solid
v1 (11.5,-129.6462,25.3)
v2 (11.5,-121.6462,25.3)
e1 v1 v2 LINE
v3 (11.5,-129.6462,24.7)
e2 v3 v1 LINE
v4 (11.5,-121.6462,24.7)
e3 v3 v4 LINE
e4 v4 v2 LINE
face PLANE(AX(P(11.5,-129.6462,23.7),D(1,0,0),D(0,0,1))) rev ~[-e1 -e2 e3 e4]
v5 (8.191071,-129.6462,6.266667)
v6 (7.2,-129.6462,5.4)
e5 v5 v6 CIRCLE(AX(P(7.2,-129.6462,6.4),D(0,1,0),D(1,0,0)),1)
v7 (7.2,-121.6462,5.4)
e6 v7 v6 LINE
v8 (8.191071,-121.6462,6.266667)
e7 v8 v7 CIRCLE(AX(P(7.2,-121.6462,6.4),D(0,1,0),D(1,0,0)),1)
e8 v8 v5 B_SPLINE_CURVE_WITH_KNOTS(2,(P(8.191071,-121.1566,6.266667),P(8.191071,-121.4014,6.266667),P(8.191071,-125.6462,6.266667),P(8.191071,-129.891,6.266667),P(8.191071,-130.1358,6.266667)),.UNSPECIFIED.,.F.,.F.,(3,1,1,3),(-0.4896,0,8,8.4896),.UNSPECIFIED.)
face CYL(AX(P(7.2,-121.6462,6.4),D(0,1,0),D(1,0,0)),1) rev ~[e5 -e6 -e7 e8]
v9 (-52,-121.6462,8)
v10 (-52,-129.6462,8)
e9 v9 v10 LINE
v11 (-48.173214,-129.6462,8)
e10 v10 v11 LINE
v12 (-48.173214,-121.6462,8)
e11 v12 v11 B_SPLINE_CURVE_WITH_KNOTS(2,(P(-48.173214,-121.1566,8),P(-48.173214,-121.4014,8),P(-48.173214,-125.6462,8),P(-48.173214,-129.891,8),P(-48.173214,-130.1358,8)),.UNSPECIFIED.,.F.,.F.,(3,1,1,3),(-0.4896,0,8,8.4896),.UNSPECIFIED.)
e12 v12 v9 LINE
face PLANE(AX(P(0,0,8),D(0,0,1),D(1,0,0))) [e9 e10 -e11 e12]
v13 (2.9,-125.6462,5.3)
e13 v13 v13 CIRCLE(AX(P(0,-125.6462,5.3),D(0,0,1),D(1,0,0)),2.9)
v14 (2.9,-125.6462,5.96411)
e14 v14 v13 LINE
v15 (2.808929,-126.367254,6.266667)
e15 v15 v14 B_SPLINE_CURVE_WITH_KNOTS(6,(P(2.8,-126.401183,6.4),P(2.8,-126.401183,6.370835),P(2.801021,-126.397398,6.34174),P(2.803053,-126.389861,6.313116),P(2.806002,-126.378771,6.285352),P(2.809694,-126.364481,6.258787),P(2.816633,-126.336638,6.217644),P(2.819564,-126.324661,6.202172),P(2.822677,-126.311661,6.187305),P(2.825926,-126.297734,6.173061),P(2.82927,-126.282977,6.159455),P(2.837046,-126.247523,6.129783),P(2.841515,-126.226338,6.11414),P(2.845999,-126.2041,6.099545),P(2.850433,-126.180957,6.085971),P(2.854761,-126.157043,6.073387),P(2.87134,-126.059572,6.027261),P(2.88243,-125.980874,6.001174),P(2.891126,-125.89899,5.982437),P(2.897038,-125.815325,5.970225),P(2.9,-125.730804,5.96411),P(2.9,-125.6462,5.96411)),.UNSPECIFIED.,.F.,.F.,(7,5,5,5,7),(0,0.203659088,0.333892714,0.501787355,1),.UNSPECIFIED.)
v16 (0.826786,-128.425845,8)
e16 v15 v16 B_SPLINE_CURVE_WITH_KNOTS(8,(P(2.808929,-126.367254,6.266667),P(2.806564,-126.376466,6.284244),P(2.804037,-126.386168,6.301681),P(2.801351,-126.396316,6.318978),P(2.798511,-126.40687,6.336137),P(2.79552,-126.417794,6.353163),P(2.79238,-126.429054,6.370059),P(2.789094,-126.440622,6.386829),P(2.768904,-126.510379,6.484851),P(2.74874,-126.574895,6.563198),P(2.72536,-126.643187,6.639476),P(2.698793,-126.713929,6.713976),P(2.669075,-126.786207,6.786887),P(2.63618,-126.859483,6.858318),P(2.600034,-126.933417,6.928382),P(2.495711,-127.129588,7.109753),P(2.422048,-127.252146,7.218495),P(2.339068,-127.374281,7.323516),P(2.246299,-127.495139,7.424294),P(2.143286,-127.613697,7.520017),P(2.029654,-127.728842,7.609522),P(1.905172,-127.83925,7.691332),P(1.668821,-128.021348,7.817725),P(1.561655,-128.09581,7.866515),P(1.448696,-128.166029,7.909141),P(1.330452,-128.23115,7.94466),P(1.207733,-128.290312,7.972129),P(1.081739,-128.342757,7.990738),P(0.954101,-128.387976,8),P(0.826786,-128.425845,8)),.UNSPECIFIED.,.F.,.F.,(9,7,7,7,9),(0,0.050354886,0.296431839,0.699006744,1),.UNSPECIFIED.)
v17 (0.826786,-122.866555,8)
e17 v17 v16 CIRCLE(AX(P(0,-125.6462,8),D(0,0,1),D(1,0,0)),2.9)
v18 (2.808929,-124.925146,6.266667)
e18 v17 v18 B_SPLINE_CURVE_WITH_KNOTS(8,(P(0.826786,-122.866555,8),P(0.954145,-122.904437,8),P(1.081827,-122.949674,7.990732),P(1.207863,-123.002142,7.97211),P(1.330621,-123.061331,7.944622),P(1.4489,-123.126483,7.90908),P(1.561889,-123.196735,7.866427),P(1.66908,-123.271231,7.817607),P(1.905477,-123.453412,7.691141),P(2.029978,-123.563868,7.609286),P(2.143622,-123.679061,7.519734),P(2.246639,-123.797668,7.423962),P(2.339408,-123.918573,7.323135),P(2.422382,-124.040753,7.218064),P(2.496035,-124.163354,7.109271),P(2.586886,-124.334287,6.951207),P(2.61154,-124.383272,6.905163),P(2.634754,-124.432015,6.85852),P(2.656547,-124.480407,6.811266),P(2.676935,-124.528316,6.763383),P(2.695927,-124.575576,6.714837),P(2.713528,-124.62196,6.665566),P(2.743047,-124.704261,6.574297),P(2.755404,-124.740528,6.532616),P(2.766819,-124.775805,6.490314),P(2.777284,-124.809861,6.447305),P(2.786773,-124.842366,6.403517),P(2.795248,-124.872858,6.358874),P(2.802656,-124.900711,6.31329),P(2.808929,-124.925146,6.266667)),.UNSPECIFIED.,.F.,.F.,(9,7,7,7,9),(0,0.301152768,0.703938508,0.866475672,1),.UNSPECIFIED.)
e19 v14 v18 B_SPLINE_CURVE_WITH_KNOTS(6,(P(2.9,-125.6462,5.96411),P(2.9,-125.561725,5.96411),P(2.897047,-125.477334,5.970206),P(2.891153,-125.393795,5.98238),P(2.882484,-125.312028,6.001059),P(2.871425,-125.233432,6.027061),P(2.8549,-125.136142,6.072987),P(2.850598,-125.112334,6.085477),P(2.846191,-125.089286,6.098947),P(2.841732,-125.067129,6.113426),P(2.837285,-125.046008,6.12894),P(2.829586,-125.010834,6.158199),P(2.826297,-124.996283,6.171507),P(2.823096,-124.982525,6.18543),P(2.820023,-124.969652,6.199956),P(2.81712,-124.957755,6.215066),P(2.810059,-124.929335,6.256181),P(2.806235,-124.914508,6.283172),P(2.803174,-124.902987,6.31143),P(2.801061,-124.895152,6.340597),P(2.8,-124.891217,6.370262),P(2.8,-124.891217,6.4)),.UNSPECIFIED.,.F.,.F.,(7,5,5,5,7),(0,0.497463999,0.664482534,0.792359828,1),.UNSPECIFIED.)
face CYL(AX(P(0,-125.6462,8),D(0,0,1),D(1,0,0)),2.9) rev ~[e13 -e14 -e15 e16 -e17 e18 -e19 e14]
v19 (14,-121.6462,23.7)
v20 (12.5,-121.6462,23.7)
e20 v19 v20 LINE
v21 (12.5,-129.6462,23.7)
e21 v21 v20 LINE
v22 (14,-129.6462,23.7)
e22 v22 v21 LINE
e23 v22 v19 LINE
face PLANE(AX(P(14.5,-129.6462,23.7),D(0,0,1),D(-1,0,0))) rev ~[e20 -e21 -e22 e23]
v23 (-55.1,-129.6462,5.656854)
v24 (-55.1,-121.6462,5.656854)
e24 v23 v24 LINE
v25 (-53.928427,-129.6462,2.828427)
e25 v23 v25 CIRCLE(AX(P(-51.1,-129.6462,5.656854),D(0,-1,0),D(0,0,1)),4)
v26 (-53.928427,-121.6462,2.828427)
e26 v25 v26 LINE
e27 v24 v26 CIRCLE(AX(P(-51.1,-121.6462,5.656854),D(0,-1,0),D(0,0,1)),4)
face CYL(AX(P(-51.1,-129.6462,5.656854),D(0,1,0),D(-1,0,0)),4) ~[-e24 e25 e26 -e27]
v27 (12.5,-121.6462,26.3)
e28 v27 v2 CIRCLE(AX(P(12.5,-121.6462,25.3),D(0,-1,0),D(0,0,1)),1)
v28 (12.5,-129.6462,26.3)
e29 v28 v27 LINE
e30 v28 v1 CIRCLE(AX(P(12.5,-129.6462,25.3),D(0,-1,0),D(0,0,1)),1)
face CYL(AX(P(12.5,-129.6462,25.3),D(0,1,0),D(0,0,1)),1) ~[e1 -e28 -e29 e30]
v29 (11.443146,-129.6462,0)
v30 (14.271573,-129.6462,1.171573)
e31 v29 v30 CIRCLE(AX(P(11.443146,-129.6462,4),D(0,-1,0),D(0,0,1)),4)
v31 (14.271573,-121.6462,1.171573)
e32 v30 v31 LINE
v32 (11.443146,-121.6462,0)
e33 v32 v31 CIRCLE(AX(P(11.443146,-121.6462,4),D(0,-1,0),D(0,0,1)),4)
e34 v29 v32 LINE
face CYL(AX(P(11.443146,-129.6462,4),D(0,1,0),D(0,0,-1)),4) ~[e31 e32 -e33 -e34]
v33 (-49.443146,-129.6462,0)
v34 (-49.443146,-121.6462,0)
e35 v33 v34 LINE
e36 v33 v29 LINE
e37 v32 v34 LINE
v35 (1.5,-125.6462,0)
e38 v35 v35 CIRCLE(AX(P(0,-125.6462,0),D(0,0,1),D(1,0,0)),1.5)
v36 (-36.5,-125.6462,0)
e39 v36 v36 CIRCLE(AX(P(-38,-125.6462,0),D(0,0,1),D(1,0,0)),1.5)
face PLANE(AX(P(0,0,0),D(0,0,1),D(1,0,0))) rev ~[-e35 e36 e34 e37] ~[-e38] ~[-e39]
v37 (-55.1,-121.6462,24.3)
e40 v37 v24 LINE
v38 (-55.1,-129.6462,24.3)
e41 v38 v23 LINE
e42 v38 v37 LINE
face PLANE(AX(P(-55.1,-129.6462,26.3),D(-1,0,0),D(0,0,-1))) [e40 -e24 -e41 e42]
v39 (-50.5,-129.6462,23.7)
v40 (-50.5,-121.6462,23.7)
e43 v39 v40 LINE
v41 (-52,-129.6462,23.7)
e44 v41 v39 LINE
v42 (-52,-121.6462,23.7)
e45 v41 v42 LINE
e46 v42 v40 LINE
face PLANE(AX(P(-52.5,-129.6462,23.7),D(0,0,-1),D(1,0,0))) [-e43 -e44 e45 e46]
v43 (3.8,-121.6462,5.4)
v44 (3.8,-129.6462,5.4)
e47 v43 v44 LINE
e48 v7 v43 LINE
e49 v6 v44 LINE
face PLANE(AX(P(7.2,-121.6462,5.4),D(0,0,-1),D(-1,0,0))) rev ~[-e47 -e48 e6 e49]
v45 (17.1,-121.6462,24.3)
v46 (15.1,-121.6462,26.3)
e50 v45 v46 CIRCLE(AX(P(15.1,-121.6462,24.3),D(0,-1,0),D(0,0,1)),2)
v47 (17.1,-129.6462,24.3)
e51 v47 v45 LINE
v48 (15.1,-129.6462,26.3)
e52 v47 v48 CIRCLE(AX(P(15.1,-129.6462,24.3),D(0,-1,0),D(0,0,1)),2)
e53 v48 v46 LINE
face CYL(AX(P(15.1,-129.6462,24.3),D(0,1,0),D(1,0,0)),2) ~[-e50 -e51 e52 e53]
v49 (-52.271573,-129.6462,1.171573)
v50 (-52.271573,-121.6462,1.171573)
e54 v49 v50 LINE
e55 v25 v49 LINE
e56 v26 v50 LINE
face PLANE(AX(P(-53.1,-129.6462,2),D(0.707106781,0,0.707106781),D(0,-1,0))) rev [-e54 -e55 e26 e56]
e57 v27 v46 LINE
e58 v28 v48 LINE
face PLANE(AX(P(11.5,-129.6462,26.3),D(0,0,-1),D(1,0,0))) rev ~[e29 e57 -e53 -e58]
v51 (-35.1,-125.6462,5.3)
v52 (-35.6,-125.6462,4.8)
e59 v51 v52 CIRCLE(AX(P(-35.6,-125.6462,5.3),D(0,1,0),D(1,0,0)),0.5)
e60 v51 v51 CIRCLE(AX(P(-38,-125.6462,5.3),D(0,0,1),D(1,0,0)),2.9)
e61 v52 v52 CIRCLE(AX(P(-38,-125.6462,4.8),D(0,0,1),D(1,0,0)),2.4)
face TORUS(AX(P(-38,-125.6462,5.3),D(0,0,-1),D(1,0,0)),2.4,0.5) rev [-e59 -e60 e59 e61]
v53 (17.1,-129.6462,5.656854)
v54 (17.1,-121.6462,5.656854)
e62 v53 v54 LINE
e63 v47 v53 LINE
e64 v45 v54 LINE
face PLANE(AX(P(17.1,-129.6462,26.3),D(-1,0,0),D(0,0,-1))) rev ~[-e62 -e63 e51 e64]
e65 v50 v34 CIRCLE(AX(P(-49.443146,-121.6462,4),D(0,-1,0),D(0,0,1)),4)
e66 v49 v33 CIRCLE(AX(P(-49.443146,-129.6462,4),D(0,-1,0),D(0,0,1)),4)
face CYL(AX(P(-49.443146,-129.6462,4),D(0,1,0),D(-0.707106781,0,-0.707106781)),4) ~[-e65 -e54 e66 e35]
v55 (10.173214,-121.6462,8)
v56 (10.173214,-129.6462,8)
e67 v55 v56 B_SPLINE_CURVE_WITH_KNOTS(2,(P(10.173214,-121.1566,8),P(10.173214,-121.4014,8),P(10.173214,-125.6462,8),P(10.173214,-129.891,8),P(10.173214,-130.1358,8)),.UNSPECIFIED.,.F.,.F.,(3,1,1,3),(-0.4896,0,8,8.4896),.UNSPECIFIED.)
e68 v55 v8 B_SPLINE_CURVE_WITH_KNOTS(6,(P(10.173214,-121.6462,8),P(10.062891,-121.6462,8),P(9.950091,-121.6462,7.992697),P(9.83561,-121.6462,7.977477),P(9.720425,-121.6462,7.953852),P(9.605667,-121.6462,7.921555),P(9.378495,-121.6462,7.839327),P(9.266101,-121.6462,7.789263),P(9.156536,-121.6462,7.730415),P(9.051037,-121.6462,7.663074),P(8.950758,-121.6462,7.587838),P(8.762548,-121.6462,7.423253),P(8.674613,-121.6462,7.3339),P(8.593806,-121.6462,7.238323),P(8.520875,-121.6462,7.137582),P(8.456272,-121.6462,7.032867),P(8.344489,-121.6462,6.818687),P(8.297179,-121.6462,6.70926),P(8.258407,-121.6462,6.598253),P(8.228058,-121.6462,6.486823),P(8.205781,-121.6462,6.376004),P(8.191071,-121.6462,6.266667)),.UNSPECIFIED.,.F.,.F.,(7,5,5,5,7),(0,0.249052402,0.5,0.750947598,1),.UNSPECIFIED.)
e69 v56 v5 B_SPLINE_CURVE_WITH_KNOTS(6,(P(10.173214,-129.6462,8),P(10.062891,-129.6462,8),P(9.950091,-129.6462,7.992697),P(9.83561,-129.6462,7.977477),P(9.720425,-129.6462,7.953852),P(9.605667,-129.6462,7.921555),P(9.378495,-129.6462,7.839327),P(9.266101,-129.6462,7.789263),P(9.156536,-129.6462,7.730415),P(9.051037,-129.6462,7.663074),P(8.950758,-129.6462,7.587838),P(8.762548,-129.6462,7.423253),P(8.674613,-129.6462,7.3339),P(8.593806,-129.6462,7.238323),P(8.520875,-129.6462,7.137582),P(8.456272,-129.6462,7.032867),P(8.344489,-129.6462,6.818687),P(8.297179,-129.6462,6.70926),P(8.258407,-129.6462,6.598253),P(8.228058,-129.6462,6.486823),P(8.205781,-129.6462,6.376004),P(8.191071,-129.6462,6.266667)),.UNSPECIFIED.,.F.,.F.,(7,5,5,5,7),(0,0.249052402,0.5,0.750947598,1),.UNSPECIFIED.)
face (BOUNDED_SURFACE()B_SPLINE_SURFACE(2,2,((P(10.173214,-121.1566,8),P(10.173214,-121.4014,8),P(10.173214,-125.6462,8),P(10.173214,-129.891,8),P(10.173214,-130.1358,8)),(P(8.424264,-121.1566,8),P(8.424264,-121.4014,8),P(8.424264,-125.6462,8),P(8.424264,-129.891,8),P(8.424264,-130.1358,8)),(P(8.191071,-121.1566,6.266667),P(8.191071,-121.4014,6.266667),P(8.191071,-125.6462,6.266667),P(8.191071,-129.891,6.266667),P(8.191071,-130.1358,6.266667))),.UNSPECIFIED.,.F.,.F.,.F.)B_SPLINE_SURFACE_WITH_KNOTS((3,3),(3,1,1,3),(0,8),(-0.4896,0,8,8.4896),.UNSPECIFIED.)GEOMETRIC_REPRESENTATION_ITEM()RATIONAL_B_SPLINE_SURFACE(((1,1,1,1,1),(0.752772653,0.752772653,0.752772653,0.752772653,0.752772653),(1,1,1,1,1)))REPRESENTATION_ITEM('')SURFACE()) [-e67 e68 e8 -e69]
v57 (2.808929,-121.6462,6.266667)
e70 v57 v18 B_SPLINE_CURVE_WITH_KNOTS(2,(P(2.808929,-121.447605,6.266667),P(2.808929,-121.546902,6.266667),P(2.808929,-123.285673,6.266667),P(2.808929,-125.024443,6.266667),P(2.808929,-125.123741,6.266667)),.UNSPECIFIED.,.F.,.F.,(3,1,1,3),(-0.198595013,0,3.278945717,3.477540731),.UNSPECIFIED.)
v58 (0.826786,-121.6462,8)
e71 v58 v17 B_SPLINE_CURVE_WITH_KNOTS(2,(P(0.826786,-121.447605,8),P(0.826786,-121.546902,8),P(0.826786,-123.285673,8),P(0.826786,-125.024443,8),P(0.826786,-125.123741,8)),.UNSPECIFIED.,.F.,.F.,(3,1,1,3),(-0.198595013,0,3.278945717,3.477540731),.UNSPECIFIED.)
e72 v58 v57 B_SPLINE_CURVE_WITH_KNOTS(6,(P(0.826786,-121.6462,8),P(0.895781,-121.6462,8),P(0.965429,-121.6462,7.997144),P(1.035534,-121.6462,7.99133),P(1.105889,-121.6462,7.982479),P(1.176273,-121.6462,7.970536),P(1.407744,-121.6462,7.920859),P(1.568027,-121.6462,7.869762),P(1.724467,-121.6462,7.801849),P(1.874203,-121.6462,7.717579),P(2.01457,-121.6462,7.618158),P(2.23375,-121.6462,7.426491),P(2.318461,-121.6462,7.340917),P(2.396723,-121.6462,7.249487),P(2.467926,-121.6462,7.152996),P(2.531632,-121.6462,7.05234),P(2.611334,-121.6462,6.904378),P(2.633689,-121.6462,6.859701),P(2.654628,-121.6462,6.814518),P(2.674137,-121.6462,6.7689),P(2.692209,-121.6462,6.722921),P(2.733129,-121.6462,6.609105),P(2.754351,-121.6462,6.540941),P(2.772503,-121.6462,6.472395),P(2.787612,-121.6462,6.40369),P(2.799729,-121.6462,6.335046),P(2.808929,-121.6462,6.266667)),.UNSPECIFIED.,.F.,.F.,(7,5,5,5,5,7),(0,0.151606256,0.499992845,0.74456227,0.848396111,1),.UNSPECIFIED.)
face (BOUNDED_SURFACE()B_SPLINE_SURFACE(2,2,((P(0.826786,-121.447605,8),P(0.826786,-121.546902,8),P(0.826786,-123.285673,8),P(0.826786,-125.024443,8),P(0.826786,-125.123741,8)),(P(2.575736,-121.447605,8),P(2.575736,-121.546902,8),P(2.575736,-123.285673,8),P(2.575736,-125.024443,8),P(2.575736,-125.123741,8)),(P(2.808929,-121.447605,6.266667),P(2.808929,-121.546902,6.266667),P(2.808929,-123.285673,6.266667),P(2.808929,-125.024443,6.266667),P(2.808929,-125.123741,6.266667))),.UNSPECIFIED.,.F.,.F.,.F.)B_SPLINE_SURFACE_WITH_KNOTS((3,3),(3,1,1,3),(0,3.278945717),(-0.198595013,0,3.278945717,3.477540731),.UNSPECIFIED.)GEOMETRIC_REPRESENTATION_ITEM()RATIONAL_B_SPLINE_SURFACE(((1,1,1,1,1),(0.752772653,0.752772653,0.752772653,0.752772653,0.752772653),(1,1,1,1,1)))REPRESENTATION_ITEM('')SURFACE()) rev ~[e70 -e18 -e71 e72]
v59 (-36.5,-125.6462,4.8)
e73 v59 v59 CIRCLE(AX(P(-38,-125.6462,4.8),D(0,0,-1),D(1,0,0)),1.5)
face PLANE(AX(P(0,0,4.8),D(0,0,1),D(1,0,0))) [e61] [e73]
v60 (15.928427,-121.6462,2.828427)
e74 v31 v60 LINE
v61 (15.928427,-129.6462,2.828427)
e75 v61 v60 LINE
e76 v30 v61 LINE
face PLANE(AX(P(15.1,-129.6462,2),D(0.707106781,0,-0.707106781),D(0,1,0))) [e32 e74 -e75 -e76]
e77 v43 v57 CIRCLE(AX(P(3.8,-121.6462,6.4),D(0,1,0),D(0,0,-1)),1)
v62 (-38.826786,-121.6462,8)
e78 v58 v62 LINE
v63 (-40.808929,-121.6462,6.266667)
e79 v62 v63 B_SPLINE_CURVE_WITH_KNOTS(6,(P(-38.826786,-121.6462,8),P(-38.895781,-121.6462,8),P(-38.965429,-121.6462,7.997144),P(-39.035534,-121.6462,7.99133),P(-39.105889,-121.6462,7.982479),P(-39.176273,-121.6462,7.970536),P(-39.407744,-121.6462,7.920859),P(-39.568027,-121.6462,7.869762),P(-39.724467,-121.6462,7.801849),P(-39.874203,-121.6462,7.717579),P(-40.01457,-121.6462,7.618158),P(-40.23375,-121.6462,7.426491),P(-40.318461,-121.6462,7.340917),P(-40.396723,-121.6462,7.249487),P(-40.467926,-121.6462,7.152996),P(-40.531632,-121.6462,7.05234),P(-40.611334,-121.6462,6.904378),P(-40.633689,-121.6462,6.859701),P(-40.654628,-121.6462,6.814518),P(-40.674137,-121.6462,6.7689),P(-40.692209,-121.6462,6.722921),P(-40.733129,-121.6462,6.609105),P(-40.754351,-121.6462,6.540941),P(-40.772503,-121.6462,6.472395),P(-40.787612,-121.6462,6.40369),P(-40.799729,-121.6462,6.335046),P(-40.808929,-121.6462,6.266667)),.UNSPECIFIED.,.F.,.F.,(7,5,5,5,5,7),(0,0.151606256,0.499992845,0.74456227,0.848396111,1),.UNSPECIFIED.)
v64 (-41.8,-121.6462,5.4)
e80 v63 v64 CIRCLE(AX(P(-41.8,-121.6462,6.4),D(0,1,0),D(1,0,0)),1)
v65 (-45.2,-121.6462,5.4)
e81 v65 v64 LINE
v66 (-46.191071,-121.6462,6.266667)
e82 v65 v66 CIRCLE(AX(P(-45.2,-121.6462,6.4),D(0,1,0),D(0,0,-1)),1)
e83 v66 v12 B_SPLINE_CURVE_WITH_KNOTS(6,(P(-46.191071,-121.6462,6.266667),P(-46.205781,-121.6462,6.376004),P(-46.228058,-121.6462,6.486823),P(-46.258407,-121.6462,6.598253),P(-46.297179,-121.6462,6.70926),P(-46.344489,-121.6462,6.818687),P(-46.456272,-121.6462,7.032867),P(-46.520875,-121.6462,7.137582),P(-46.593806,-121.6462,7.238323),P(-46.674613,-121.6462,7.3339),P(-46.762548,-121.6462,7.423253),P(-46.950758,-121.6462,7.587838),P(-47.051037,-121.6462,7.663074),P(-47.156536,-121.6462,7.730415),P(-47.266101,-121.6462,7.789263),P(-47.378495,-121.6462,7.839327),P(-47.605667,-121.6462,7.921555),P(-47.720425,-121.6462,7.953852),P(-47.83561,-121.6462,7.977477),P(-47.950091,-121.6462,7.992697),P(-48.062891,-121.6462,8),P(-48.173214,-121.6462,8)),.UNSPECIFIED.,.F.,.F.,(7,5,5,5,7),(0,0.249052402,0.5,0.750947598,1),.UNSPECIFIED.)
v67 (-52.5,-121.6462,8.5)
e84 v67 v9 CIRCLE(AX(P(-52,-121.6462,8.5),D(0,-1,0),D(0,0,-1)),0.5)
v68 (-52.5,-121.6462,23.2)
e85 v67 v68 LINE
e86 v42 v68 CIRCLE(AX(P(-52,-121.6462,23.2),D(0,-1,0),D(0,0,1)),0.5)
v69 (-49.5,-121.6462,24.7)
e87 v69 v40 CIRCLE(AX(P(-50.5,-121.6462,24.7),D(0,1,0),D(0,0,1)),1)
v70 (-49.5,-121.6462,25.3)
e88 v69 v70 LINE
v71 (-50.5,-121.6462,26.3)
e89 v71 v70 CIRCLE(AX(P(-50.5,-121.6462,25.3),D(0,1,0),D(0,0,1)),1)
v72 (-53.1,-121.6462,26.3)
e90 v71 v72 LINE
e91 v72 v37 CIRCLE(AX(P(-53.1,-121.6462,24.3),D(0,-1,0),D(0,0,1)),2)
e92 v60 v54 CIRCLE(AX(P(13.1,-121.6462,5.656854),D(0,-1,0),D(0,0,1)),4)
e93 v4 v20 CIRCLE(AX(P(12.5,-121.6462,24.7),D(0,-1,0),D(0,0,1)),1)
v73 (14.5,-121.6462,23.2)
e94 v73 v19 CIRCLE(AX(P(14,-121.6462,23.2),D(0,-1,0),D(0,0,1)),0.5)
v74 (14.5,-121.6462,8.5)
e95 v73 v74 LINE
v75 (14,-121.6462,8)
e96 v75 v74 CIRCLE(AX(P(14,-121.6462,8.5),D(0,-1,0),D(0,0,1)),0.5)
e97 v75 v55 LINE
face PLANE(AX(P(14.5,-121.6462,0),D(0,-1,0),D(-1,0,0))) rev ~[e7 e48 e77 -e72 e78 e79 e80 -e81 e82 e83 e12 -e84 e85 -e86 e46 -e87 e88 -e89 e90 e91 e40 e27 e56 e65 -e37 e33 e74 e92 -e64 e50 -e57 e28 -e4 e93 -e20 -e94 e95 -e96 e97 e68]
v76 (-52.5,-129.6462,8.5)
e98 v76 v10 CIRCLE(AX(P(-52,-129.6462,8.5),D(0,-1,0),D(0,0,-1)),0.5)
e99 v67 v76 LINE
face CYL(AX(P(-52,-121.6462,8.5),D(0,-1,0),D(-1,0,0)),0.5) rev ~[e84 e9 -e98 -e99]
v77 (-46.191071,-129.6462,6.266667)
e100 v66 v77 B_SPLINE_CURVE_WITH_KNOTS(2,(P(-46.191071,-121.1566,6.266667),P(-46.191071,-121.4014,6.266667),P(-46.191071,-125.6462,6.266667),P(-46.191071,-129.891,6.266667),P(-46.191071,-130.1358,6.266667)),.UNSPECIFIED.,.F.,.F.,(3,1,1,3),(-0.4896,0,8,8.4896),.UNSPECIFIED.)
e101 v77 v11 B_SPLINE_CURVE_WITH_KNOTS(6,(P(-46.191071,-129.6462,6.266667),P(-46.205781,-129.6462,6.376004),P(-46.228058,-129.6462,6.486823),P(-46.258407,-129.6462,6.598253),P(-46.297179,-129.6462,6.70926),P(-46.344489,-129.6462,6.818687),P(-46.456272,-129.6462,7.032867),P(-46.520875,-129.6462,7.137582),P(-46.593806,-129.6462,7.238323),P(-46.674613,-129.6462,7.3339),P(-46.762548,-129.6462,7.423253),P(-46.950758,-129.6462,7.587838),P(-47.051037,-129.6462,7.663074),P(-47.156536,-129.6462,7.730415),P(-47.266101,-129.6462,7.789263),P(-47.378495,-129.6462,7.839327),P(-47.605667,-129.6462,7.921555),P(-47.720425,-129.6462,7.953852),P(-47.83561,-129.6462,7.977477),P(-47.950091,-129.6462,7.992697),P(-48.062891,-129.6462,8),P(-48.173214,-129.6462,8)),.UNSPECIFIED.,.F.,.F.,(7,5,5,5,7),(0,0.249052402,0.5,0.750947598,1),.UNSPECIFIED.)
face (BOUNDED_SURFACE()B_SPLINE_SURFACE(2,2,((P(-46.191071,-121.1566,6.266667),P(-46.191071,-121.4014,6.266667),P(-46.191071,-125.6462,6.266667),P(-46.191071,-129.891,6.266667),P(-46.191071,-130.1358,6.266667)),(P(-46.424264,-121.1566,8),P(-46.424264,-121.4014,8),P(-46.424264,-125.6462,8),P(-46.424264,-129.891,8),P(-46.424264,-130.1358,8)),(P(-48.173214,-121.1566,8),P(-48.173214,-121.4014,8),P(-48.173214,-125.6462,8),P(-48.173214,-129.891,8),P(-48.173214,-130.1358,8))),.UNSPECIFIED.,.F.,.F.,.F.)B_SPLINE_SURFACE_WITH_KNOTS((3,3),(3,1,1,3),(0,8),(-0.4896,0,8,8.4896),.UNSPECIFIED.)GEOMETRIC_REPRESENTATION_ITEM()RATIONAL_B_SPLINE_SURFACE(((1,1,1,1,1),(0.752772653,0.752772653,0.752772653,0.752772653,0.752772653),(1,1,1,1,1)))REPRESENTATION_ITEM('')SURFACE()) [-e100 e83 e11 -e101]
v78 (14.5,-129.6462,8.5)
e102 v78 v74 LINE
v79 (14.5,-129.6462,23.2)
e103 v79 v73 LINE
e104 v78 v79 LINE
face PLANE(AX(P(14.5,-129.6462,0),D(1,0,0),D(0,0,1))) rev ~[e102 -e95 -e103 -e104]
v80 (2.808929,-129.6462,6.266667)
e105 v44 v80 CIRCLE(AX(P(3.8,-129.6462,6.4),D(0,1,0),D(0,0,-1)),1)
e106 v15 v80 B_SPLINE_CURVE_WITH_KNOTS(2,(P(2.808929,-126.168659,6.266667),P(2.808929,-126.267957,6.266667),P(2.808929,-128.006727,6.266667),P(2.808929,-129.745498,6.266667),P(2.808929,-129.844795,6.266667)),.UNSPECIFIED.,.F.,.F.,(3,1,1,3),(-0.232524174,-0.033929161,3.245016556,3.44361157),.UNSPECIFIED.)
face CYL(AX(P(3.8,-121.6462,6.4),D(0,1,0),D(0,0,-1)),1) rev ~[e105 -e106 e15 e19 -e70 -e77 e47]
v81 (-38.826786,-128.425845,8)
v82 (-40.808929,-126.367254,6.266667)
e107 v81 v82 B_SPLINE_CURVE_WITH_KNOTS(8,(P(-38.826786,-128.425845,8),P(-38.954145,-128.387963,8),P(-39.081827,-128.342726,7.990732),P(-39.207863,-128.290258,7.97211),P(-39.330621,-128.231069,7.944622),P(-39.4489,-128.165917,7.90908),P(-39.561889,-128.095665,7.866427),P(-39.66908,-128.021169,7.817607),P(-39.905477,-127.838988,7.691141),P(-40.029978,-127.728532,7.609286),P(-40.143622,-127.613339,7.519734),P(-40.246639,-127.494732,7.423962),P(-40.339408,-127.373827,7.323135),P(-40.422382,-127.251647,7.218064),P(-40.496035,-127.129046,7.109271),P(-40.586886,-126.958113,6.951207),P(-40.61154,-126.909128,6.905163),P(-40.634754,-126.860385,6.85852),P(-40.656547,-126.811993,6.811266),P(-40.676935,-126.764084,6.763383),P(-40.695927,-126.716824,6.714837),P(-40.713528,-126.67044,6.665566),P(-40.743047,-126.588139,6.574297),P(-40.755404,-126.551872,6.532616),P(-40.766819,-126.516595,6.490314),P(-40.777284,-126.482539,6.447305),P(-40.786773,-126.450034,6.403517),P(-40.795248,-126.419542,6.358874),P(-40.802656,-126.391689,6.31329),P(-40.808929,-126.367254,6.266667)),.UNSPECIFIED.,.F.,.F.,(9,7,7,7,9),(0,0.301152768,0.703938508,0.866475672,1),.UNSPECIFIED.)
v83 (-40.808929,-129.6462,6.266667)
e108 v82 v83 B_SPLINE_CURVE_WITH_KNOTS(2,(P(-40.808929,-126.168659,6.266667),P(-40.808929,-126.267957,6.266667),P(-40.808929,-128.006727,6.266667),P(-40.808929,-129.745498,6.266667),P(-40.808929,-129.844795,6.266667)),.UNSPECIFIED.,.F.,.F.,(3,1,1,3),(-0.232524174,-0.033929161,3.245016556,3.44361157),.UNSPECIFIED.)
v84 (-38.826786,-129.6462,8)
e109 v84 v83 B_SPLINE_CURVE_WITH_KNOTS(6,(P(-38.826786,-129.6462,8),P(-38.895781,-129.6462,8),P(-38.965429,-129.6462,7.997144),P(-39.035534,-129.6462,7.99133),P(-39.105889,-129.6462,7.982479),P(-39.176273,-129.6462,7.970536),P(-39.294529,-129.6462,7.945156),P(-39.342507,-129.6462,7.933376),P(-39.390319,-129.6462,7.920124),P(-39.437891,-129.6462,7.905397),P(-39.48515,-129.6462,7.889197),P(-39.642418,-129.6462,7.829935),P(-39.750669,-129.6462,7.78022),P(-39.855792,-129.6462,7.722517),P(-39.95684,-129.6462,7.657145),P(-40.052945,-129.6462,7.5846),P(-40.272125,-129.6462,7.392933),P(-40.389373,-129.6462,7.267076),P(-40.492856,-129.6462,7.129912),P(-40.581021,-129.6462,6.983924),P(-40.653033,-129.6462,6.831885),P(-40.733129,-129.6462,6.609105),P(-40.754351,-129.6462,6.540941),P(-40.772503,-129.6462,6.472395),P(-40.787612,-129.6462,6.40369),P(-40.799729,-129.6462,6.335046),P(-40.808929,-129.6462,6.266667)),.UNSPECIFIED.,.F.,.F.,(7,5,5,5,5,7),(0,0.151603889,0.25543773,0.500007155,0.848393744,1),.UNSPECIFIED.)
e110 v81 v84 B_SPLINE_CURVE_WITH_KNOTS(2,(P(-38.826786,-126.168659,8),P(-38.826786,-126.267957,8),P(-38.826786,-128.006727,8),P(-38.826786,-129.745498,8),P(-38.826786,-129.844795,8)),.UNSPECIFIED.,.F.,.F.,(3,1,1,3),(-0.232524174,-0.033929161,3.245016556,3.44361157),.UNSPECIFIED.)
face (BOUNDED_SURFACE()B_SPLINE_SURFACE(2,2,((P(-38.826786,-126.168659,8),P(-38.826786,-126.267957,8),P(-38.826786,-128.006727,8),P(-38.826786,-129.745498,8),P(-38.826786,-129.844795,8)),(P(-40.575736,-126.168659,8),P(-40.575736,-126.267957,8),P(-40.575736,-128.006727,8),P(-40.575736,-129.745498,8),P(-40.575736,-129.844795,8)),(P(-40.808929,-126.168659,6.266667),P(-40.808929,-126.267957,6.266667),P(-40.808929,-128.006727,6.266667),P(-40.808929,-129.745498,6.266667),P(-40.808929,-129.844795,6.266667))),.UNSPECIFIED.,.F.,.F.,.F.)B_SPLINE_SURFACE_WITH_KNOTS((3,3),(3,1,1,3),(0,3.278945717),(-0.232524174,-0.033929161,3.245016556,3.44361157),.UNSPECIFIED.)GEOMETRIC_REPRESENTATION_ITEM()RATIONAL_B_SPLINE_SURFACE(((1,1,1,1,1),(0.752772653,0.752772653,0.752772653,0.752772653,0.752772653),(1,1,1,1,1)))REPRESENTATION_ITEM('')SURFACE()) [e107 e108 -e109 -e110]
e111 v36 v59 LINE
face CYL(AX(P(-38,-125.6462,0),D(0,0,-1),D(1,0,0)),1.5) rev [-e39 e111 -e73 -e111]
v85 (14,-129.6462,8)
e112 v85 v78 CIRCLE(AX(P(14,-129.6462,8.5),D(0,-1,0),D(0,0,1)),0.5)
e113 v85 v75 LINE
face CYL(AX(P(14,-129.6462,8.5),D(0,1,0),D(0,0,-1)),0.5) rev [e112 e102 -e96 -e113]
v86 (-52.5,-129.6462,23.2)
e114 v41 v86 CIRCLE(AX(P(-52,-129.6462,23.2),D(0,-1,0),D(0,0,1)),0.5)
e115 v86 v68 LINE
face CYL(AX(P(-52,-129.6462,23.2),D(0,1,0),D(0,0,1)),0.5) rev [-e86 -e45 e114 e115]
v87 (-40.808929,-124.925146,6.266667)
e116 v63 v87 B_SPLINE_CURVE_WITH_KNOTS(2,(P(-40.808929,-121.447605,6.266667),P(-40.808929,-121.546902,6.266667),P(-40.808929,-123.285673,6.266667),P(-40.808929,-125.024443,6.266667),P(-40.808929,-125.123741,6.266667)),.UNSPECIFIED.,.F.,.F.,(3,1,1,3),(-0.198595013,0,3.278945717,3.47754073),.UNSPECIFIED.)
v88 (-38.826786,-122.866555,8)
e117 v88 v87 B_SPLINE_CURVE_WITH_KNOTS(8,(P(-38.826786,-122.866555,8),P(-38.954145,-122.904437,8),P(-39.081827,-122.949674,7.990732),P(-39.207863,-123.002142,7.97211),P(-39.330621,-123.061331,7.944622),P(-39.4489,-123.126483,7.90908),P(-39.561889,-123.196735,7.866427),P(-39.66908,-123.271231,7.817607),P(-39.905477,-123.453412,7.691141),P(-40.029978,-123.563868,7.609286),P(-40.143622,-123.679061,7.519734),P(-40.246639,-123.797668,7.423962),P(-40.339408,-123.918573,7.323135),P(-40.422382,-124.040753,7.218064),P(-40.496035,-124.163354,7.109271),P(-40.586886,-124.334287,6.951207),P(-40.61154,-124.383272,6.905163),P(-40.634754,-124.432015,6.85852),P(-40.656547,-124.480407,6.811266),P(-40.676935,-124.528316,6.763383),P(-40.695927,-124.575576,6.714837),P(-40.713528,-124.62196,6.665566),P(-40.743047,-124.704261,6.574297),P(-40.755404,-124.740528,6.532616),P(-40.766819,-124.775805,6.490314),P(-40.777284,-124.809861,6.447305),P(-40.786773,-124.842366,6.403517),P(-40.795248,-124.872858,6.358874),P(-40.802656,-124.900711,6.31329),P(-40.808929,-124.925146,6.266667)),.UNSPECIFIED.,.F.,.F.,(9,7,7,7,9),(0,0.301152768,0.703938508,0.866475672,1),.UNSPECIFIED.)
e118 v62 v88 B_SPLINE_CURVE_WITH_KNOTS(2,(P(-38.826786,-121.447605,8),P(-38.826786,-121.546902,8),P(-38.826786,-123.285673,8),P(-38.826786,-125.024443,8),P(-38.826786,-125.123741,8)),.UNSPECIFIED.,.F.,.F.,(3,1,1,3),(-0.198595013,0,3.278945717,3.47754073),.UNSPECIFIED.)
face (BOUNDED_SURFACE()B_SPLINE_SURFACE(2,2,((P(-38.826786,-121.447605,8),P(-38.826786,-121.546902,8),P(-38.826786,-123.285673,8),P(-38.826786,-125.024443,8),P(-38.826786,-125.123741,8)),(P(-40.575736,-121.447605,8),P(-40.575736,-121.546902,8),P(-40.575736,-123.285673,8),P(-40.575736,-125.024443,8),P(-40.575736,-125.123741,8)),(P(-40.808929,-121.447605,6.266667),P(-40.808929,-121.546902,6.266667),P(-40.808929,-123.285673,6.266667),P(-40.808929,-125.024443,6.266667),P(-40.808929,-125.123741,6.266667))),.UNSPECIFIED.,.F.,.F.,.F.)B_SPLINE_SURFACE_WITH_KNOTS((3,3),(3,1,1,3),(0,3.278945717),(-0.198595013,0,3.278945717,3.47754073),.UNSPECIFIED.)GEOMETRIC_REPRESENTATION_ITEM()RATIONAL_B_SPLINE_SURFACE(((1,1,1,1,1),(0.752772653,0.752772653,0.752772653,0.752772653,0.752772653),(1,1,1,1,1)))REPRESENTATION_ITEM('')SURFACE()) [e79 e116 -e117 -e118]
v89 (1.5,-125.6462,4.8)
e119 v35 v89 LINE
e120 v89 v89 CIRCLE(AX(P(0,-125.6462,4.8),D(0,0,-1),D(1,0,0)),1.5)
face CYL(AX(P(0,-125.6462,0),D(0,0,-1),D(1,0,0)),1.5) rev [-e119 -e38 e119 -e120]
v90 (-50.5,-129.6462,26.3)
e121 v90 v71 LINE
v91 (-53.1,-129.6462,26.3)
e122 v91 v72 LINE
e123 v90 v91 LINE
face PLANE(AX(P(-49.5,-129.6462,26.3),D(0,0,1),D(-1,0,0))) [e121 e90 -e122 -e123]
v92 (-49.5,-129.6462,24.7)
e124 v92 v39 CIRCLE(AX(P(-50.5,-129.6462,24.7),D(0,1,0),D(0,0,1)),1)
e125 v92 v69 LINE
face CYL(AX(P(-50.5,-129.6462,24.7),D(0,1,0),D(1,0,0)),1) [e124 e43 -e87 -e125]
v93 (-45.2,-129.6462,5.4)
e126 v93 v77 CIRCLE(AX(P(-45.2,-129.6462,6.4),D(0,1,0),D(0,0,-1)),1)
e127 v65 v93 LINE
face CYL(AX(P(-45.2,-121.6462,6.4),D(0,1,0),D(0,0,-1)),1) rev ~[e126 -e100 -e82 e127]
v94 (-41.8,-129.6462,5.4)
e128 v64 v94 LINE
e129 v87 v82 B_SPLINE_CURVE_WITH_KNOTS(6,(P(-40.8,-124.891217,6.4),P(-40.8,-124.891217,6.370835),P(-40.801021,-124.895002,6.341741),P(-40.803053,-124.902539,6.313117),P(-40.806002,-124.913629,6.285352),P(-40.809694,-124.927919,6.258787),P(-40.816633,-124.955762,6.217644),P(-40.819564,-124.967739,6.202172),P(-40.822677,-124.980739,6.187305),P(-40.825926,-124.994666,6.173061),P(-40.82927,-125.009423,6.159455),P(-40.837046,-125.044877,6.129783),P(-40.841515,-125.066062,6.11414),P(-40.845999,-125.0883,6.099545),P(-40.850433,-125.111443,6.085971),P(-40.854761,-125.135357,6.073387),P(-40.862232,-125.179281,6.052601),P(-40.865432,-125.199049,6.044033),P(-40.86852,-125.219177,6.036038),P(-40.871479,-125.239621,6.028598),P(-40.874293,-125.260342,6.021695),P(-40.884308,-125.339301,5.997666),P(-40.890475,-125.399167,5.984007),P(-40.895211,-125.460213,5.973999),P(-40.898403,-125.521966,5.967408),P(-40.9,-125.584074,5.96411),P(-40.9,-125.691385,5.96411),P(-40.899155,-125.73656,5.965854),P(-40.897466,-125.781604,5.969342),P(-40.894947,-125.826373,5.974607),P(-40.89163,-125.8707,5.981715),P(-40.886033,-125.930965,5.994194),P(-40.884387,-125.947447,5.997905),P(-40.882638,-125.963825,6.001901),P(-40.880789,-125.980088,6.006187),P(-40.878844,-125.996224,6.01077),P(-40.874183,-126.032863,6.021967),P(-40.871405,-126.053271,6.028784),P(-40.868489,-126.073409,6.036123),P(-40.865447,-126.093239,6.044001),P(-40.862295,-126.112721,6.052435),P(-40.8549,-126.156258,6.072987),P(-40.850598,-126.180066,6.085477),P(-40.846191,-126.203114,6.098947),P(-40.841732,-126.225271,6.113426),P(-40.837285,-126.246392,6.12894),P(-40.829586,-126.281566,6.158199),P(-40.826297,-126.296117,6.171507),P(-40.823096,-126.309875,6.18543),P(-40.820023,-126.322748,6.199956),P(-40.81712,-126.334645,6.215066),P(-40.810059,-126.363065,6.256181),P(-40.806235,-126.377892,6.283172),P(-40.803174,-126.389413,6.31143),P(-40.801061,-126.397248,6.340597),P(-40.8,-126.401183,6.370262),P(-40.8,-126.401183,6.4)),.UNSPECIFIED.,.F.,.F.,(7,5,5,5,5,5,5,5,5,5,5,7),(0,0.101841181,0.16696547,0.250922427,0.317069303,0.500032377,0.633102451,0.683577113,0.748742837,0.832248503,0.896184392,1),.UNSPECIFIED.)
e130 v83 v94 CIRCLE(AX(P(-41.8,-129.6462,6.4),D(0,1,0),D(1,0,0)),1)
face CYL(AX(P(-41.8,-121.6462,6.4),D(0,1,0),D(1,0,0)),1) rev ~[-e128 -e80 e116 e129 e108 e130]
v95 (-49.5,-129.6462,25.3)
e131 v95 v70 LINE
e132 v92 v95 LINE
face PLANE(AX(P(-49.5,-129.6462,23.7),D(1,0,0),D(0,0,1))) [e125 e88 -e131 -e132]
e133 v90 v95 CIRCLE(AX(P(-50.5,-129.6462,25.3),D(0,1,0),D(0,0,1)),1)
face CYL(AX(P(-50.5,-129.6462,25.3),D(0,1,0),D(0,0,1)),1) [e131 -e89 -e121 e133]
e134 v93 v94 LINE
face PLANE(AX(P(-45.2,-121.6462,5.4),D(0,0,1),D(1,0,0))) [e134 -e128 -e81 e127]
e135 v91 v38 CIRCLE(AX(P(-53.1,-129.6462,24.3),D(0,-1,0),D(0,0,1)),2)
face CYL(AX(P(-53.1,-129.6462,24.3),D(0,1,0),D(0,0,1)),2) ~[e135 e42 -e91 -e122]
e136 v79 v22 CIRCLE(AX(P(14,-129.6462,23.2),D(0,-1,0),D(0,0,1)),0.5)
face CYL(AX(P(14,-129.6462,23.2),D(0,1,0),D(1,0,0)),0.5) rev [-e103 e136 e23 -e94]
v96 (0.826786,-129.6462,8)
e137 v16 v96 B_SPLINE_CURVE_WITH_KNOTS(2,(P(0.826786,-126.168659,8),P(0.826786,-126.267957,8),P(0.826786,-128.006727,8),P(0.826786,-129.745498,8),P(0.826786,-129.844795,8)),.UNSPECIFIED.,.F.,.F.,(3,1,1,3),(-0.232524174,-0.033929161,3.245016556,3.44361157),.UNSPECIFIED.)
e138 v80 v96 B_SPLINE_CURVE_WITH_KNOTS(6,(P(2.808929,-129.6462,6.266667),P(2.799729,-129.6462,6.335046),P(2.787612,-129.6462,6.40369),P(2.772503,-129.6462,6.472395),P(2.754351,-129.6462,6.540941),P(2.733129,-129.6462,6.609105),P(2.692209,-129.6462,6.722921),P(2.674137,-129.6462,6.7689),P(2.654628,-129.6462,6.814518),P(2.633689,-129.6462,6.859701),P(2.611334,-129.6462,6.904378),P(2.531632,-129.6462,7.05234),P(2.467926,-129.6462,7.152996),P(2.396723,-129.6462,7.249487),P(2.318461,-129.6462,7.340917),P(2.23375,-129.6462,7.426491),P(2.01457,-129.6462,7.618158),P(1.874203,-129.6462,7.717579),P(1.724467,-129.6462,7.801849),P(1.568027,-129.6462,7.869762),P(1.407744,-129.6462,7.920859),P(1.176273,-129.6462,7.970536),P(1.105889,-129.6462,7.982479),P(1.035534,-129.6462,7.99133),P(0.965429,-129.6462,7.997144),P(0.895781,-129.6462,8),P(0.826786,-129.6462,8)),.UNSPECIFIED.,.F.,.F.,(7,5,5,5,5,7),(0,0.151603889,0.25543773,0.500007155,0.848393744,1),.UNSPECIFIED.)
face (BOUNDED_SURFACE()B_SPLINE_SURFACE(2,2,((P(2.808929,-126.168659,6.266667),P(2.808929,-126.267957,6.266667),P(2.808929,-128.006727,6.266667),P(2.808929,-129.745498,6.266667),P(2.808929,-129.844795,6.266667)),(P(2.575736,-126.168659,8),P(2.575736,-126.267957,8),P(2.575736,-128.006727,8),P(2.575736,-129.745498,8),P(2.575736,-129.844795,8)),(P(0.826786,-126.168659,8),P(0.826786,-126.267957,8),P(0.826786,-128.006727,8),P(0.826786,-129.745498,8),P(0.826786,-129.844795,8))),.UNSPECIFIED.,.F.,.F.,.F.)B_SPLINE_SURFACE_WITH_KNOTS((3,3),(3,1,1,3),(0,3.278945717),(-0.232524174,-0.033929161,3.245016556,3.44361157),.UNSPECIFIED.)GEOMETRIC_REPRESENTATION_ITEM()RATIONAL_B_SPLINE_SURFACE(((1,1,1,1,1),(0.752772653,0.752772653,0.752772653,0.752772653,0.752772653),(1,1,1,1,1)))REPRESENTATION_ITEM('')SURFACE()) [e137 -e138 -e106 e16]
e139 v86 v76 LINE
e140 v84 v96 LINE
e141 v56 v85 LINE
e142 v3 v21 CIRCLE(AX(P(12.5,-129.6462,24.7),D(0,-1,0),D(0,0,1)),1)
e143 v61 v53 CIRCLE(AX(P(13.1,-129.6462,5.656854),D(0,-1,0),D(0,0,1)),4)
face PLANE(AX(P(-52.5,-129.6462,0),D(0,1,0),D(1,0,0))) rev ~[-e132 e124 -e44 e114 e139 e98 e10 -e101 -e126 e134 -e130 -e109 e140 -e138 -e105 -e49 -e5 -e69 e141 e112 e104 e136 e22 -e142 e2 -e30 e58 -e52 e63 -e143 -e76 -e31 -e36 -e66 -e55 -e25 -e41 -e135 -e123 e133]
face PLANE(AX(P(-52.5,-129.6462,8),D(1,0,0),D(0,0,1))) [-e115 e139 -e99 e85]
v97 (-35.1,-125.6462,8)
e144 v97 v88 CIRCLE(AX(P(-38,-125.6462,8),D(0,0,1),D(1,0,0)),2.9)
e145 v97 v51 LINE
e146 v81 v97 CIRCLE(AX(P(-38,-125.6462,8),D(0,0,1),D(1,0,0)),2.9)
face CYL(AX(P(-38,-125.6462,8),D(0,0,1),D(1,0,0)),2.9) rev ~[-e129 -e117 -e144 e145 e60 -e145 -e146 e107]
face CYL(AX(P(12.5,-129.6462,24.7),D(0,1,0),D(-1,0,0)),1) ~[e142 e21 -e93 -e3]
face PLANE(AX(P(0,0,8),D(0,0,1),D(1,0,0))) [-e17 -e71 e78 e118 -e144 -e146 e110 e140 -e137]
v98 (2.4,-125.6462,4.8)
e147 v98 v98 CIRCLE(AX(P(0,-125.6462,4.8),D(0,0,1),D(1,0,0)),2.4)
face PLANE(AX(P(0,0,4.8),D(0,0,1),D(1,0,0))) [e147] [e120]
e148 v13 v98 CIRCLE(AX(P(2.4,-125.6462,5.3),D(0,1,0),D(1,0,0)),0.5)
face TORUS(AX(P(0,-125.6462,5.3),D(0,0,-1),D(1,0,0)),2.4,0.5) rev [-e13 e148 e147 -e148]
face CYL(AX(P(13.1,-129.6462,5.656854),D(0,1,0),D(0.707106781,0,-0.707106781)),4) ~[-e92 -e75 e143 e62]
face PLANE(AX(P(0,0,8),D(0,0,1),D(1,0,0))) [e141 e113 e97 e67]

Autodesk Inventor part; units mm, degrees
ref_plane "YZ Plane" through (0, 0, 0) normal (1, 0, 0) x (0, 1, 0)
ref_plane "XZ Plane" through (0, 0, 0) normal (0, 1, 0) x (-1, 0, 0)
ref_plane "Work Plane1" through (0, 0, 0) normal (0, 0, 1) x (1, 0, 0)
sketch "base_sketch" plane through (0, 0, 0) normal (0, 0, 1) x (1, 0, 0)
  circle A0 centre (0, -125.6462) radius 1.5 projected
  circle A1 centre (-38, -125.6462) radius 1.5 projected
  line L0 (14.5, -121.6462) -> (-52.5, -121.6462)
  line L1 (-52.5, -121.6462) -> (-52.5, -129.6462)
  line L2 (-52.5, -129.6462) -> (14.5, -129.6462)
  line L3 (14.5, -129.6462) -> (14.5, -121.6462)
  line L4 (-19, -121.6462) -> (-19, -129.6462) construction
  point P0 (0, 0)
  dimension "d1" = 67
  dimension "d4" = 38
  dimension "d5" = 19
  dimension "d6" = 4
  dimension "d7" = 4
extrude "base" add sketch "base_sketch" along normal blind 8
sketch "holes_bolt_head_sketch" plane through (0, 0, 8) normal (0, 0, 1) x (1, 0, 0)
  circle A0 centre (0, -125.6462) radius 1.5 construction
  circle A1 centre (0, -125.6462) radius 2.9
  circle A2 centre (-38, -125.6462) radius 1.5 construction
  circle A3 centre (-38, -125.6462) radius 2.9
  point P0 (0, 0)
  dimension "d10" = 5.8
  dimension "d11" = 5.8
extrude "holes_bolt_head" cut sketch "holes_bolt_head_sketch" against normal blind 3.2
fillet "bolt_head_fillet" radius 0.5 2 edges at (-40.9, -125.6462, 4.8) (-2.9, -125.6462, 4.8)
sketch "walls_sketch" plane through (-52.5, -129.6462, 0) normal (0, -1, 0) x (1, 0, 0)
  line L0 (0, 0) -> (67, 0) projected
  line L1 (67, 0) -> (67, 8) projected
  line L2 (0, 8) -> (67, 8) projected
  line L3 (0, 0) -> (0, 8) projected
  line L4 (67, 8) -> (0, 8) projected
  line L5 (0, 8) -> (0, 23.7)
  line L6 (0, 23.7) -> (3, 23.7)
  line L7 (0, 23.7) -> (3, 23.7) construction
  line L8 (3, 23.7) -> (3, 26.3)
  line L9 (3, 26.3) -> (-2.6, 26.3)
  line L10 (-2.6, 26.3) -> (-2.6, 0)
  line L11 (0, 0) -> (67, 0) projected
  line L12 (-2.6, 0) -> (0, 0)
  line L13 (0, 0) -> (0, 8) projected
  line L14 (33.5, 8) -> (33.5, 0) construction
  line L15 (67, 8) -> (67, 23.7)
  line L16 (67, 23.7) -> (64, 23.7)
  line L17 (64, 23.7) -> (64, 26.3)
  line L18 (64, 26.3) -> (69.6, 26.3)
  line L19 (69.6, 26.3) -> (69.6, 0)
  line L20 (69.6, 0) -> (67, 0)
  point P0 (52.5, 0)
  dimension "d15" = 15.7
  dimension "d16" = 3
  dimension "d17" = 0
  dimension "d18" = 2.6
  dimension "d19" = 2.6
extrude "walls" add sketch "walls_sketch" against normal up to surface (8 mm away) contours L12 L10 L9 L8 L6 L5 L3 | L1 L15 L16 L17 L18 L19 L20
fillet "wall_top" radius 2 2 edges at (-55.1, -125.6462, 26.3) (17.1, -125.6462, 26.3)
fillet "wall_tooth" radius 1 4 edges at (-49.5, -125.6462, 26.3) (-49.5, -125.6462, 23.7) (11.5, -125.6462, 23.7) (11.5, -125.6462, 26.3)
chamfer "wall_bottom" distance 4 angle 45 2 edges at (17.1, -125.6462, 0) (-55.1, -125.6462, 0)
fillet "wall_bottom_fillet" radius 4 4 edges at (-55.1, -125.6462, 4) (17.1, -125.6462, 4) (13.1, -125.6462, 0) (-51.1, -125.6462, 0)
fillet "inside" radius 0.5 4 edges at (14.5, -125.6462, 8) (-52.5, -125.6462, 8) (-52.5, -125.6462, 23.7) (14.5, -125.6462, 23.7)
sketch "groove_enclosure_bolt_sketch" plane through (-53.1, -121.6462, 26.3) normal (0, 1, 0) x (1, 0, 0)
  line L0 (67.1, 18.3) -> (1.1, 18.3) projected
  line L1 (55.9, 18.3) -> (61.3, 18.3)
  line L2 (61.3, 18.3) -> (61.3, 19.9)
  line L3 (60.3, 20.9) -> (56.9, 20.9)
  line L4 (55.9, 19.9) -> (55.9, 18.3)
  line L5 (34.1, 18.3) -> (34.1, 26.3) construction
  line L6 (3.6569, 26.3) -> (64.5431, 26.3) projected
  arc A0 (56.9, 20.9) -> (55.9, 19.9) centre (56.9, 19.9) ccw
  arc A1 (61.3, 19.9) -> (60.3, 20.9) centre (60.3, 19.9) ccw
  line L7 (12.3, 18.3) -> (6.9, 18.3)
  line L8 (6.9, 18.3) -> (6.9, 19.9)
  line L9 (7.9, 20.9) -> (11.3, 20.9)
  line L10 (12.3, 19.9) -> (12.3, 18.3)
  arc A2 (12.3, 19.9) -> (11.3, 20.9) centre (11.3, 19.9) ccw
  arc A3 (7.9, 20.9) -> (6.9, 19.9) centre (7.9, 19.9) ccw
  point P0 (53.1, 26.3)
  point P1 (61.3, 20.9)
  point P2 (55.9, 20.9)
  point P3 (58.6, 20.9)
  point P4 (6.9, 18.3)
  point P5 (12.3, 18.3)
  dimension "d29" = 66
  dimension "d30" = 33
  dimension "d31" = 49
  dimension "d32" = 5.4
  dimension "d33" = 2.6
  dimension "d34" = 1
extrude "groove_enclosure_bolt" cut sketch "groove_enclosure_bolt_sketch" against normal through all
fillet "groove_enclosure_bolt_rounded" radius 2 6 edges at (8.2, -125.6462, 8) (2.8, -123.2687, 8) (2.8, -128.0237, 8) (-40.8, -123.2687, 8) (-40.8, -128.0237, 8) (-46.2, -125.6462, 8)
equation "\"d5\" = 0.5 * d4"
equation "\"d7\" = d6"
equation "\"d10\" = d11"
equation "\"d30\" = 0.5 * d29"
properties part number "mount_enclosure_coral_dev_board" material "ABS Plastic"
